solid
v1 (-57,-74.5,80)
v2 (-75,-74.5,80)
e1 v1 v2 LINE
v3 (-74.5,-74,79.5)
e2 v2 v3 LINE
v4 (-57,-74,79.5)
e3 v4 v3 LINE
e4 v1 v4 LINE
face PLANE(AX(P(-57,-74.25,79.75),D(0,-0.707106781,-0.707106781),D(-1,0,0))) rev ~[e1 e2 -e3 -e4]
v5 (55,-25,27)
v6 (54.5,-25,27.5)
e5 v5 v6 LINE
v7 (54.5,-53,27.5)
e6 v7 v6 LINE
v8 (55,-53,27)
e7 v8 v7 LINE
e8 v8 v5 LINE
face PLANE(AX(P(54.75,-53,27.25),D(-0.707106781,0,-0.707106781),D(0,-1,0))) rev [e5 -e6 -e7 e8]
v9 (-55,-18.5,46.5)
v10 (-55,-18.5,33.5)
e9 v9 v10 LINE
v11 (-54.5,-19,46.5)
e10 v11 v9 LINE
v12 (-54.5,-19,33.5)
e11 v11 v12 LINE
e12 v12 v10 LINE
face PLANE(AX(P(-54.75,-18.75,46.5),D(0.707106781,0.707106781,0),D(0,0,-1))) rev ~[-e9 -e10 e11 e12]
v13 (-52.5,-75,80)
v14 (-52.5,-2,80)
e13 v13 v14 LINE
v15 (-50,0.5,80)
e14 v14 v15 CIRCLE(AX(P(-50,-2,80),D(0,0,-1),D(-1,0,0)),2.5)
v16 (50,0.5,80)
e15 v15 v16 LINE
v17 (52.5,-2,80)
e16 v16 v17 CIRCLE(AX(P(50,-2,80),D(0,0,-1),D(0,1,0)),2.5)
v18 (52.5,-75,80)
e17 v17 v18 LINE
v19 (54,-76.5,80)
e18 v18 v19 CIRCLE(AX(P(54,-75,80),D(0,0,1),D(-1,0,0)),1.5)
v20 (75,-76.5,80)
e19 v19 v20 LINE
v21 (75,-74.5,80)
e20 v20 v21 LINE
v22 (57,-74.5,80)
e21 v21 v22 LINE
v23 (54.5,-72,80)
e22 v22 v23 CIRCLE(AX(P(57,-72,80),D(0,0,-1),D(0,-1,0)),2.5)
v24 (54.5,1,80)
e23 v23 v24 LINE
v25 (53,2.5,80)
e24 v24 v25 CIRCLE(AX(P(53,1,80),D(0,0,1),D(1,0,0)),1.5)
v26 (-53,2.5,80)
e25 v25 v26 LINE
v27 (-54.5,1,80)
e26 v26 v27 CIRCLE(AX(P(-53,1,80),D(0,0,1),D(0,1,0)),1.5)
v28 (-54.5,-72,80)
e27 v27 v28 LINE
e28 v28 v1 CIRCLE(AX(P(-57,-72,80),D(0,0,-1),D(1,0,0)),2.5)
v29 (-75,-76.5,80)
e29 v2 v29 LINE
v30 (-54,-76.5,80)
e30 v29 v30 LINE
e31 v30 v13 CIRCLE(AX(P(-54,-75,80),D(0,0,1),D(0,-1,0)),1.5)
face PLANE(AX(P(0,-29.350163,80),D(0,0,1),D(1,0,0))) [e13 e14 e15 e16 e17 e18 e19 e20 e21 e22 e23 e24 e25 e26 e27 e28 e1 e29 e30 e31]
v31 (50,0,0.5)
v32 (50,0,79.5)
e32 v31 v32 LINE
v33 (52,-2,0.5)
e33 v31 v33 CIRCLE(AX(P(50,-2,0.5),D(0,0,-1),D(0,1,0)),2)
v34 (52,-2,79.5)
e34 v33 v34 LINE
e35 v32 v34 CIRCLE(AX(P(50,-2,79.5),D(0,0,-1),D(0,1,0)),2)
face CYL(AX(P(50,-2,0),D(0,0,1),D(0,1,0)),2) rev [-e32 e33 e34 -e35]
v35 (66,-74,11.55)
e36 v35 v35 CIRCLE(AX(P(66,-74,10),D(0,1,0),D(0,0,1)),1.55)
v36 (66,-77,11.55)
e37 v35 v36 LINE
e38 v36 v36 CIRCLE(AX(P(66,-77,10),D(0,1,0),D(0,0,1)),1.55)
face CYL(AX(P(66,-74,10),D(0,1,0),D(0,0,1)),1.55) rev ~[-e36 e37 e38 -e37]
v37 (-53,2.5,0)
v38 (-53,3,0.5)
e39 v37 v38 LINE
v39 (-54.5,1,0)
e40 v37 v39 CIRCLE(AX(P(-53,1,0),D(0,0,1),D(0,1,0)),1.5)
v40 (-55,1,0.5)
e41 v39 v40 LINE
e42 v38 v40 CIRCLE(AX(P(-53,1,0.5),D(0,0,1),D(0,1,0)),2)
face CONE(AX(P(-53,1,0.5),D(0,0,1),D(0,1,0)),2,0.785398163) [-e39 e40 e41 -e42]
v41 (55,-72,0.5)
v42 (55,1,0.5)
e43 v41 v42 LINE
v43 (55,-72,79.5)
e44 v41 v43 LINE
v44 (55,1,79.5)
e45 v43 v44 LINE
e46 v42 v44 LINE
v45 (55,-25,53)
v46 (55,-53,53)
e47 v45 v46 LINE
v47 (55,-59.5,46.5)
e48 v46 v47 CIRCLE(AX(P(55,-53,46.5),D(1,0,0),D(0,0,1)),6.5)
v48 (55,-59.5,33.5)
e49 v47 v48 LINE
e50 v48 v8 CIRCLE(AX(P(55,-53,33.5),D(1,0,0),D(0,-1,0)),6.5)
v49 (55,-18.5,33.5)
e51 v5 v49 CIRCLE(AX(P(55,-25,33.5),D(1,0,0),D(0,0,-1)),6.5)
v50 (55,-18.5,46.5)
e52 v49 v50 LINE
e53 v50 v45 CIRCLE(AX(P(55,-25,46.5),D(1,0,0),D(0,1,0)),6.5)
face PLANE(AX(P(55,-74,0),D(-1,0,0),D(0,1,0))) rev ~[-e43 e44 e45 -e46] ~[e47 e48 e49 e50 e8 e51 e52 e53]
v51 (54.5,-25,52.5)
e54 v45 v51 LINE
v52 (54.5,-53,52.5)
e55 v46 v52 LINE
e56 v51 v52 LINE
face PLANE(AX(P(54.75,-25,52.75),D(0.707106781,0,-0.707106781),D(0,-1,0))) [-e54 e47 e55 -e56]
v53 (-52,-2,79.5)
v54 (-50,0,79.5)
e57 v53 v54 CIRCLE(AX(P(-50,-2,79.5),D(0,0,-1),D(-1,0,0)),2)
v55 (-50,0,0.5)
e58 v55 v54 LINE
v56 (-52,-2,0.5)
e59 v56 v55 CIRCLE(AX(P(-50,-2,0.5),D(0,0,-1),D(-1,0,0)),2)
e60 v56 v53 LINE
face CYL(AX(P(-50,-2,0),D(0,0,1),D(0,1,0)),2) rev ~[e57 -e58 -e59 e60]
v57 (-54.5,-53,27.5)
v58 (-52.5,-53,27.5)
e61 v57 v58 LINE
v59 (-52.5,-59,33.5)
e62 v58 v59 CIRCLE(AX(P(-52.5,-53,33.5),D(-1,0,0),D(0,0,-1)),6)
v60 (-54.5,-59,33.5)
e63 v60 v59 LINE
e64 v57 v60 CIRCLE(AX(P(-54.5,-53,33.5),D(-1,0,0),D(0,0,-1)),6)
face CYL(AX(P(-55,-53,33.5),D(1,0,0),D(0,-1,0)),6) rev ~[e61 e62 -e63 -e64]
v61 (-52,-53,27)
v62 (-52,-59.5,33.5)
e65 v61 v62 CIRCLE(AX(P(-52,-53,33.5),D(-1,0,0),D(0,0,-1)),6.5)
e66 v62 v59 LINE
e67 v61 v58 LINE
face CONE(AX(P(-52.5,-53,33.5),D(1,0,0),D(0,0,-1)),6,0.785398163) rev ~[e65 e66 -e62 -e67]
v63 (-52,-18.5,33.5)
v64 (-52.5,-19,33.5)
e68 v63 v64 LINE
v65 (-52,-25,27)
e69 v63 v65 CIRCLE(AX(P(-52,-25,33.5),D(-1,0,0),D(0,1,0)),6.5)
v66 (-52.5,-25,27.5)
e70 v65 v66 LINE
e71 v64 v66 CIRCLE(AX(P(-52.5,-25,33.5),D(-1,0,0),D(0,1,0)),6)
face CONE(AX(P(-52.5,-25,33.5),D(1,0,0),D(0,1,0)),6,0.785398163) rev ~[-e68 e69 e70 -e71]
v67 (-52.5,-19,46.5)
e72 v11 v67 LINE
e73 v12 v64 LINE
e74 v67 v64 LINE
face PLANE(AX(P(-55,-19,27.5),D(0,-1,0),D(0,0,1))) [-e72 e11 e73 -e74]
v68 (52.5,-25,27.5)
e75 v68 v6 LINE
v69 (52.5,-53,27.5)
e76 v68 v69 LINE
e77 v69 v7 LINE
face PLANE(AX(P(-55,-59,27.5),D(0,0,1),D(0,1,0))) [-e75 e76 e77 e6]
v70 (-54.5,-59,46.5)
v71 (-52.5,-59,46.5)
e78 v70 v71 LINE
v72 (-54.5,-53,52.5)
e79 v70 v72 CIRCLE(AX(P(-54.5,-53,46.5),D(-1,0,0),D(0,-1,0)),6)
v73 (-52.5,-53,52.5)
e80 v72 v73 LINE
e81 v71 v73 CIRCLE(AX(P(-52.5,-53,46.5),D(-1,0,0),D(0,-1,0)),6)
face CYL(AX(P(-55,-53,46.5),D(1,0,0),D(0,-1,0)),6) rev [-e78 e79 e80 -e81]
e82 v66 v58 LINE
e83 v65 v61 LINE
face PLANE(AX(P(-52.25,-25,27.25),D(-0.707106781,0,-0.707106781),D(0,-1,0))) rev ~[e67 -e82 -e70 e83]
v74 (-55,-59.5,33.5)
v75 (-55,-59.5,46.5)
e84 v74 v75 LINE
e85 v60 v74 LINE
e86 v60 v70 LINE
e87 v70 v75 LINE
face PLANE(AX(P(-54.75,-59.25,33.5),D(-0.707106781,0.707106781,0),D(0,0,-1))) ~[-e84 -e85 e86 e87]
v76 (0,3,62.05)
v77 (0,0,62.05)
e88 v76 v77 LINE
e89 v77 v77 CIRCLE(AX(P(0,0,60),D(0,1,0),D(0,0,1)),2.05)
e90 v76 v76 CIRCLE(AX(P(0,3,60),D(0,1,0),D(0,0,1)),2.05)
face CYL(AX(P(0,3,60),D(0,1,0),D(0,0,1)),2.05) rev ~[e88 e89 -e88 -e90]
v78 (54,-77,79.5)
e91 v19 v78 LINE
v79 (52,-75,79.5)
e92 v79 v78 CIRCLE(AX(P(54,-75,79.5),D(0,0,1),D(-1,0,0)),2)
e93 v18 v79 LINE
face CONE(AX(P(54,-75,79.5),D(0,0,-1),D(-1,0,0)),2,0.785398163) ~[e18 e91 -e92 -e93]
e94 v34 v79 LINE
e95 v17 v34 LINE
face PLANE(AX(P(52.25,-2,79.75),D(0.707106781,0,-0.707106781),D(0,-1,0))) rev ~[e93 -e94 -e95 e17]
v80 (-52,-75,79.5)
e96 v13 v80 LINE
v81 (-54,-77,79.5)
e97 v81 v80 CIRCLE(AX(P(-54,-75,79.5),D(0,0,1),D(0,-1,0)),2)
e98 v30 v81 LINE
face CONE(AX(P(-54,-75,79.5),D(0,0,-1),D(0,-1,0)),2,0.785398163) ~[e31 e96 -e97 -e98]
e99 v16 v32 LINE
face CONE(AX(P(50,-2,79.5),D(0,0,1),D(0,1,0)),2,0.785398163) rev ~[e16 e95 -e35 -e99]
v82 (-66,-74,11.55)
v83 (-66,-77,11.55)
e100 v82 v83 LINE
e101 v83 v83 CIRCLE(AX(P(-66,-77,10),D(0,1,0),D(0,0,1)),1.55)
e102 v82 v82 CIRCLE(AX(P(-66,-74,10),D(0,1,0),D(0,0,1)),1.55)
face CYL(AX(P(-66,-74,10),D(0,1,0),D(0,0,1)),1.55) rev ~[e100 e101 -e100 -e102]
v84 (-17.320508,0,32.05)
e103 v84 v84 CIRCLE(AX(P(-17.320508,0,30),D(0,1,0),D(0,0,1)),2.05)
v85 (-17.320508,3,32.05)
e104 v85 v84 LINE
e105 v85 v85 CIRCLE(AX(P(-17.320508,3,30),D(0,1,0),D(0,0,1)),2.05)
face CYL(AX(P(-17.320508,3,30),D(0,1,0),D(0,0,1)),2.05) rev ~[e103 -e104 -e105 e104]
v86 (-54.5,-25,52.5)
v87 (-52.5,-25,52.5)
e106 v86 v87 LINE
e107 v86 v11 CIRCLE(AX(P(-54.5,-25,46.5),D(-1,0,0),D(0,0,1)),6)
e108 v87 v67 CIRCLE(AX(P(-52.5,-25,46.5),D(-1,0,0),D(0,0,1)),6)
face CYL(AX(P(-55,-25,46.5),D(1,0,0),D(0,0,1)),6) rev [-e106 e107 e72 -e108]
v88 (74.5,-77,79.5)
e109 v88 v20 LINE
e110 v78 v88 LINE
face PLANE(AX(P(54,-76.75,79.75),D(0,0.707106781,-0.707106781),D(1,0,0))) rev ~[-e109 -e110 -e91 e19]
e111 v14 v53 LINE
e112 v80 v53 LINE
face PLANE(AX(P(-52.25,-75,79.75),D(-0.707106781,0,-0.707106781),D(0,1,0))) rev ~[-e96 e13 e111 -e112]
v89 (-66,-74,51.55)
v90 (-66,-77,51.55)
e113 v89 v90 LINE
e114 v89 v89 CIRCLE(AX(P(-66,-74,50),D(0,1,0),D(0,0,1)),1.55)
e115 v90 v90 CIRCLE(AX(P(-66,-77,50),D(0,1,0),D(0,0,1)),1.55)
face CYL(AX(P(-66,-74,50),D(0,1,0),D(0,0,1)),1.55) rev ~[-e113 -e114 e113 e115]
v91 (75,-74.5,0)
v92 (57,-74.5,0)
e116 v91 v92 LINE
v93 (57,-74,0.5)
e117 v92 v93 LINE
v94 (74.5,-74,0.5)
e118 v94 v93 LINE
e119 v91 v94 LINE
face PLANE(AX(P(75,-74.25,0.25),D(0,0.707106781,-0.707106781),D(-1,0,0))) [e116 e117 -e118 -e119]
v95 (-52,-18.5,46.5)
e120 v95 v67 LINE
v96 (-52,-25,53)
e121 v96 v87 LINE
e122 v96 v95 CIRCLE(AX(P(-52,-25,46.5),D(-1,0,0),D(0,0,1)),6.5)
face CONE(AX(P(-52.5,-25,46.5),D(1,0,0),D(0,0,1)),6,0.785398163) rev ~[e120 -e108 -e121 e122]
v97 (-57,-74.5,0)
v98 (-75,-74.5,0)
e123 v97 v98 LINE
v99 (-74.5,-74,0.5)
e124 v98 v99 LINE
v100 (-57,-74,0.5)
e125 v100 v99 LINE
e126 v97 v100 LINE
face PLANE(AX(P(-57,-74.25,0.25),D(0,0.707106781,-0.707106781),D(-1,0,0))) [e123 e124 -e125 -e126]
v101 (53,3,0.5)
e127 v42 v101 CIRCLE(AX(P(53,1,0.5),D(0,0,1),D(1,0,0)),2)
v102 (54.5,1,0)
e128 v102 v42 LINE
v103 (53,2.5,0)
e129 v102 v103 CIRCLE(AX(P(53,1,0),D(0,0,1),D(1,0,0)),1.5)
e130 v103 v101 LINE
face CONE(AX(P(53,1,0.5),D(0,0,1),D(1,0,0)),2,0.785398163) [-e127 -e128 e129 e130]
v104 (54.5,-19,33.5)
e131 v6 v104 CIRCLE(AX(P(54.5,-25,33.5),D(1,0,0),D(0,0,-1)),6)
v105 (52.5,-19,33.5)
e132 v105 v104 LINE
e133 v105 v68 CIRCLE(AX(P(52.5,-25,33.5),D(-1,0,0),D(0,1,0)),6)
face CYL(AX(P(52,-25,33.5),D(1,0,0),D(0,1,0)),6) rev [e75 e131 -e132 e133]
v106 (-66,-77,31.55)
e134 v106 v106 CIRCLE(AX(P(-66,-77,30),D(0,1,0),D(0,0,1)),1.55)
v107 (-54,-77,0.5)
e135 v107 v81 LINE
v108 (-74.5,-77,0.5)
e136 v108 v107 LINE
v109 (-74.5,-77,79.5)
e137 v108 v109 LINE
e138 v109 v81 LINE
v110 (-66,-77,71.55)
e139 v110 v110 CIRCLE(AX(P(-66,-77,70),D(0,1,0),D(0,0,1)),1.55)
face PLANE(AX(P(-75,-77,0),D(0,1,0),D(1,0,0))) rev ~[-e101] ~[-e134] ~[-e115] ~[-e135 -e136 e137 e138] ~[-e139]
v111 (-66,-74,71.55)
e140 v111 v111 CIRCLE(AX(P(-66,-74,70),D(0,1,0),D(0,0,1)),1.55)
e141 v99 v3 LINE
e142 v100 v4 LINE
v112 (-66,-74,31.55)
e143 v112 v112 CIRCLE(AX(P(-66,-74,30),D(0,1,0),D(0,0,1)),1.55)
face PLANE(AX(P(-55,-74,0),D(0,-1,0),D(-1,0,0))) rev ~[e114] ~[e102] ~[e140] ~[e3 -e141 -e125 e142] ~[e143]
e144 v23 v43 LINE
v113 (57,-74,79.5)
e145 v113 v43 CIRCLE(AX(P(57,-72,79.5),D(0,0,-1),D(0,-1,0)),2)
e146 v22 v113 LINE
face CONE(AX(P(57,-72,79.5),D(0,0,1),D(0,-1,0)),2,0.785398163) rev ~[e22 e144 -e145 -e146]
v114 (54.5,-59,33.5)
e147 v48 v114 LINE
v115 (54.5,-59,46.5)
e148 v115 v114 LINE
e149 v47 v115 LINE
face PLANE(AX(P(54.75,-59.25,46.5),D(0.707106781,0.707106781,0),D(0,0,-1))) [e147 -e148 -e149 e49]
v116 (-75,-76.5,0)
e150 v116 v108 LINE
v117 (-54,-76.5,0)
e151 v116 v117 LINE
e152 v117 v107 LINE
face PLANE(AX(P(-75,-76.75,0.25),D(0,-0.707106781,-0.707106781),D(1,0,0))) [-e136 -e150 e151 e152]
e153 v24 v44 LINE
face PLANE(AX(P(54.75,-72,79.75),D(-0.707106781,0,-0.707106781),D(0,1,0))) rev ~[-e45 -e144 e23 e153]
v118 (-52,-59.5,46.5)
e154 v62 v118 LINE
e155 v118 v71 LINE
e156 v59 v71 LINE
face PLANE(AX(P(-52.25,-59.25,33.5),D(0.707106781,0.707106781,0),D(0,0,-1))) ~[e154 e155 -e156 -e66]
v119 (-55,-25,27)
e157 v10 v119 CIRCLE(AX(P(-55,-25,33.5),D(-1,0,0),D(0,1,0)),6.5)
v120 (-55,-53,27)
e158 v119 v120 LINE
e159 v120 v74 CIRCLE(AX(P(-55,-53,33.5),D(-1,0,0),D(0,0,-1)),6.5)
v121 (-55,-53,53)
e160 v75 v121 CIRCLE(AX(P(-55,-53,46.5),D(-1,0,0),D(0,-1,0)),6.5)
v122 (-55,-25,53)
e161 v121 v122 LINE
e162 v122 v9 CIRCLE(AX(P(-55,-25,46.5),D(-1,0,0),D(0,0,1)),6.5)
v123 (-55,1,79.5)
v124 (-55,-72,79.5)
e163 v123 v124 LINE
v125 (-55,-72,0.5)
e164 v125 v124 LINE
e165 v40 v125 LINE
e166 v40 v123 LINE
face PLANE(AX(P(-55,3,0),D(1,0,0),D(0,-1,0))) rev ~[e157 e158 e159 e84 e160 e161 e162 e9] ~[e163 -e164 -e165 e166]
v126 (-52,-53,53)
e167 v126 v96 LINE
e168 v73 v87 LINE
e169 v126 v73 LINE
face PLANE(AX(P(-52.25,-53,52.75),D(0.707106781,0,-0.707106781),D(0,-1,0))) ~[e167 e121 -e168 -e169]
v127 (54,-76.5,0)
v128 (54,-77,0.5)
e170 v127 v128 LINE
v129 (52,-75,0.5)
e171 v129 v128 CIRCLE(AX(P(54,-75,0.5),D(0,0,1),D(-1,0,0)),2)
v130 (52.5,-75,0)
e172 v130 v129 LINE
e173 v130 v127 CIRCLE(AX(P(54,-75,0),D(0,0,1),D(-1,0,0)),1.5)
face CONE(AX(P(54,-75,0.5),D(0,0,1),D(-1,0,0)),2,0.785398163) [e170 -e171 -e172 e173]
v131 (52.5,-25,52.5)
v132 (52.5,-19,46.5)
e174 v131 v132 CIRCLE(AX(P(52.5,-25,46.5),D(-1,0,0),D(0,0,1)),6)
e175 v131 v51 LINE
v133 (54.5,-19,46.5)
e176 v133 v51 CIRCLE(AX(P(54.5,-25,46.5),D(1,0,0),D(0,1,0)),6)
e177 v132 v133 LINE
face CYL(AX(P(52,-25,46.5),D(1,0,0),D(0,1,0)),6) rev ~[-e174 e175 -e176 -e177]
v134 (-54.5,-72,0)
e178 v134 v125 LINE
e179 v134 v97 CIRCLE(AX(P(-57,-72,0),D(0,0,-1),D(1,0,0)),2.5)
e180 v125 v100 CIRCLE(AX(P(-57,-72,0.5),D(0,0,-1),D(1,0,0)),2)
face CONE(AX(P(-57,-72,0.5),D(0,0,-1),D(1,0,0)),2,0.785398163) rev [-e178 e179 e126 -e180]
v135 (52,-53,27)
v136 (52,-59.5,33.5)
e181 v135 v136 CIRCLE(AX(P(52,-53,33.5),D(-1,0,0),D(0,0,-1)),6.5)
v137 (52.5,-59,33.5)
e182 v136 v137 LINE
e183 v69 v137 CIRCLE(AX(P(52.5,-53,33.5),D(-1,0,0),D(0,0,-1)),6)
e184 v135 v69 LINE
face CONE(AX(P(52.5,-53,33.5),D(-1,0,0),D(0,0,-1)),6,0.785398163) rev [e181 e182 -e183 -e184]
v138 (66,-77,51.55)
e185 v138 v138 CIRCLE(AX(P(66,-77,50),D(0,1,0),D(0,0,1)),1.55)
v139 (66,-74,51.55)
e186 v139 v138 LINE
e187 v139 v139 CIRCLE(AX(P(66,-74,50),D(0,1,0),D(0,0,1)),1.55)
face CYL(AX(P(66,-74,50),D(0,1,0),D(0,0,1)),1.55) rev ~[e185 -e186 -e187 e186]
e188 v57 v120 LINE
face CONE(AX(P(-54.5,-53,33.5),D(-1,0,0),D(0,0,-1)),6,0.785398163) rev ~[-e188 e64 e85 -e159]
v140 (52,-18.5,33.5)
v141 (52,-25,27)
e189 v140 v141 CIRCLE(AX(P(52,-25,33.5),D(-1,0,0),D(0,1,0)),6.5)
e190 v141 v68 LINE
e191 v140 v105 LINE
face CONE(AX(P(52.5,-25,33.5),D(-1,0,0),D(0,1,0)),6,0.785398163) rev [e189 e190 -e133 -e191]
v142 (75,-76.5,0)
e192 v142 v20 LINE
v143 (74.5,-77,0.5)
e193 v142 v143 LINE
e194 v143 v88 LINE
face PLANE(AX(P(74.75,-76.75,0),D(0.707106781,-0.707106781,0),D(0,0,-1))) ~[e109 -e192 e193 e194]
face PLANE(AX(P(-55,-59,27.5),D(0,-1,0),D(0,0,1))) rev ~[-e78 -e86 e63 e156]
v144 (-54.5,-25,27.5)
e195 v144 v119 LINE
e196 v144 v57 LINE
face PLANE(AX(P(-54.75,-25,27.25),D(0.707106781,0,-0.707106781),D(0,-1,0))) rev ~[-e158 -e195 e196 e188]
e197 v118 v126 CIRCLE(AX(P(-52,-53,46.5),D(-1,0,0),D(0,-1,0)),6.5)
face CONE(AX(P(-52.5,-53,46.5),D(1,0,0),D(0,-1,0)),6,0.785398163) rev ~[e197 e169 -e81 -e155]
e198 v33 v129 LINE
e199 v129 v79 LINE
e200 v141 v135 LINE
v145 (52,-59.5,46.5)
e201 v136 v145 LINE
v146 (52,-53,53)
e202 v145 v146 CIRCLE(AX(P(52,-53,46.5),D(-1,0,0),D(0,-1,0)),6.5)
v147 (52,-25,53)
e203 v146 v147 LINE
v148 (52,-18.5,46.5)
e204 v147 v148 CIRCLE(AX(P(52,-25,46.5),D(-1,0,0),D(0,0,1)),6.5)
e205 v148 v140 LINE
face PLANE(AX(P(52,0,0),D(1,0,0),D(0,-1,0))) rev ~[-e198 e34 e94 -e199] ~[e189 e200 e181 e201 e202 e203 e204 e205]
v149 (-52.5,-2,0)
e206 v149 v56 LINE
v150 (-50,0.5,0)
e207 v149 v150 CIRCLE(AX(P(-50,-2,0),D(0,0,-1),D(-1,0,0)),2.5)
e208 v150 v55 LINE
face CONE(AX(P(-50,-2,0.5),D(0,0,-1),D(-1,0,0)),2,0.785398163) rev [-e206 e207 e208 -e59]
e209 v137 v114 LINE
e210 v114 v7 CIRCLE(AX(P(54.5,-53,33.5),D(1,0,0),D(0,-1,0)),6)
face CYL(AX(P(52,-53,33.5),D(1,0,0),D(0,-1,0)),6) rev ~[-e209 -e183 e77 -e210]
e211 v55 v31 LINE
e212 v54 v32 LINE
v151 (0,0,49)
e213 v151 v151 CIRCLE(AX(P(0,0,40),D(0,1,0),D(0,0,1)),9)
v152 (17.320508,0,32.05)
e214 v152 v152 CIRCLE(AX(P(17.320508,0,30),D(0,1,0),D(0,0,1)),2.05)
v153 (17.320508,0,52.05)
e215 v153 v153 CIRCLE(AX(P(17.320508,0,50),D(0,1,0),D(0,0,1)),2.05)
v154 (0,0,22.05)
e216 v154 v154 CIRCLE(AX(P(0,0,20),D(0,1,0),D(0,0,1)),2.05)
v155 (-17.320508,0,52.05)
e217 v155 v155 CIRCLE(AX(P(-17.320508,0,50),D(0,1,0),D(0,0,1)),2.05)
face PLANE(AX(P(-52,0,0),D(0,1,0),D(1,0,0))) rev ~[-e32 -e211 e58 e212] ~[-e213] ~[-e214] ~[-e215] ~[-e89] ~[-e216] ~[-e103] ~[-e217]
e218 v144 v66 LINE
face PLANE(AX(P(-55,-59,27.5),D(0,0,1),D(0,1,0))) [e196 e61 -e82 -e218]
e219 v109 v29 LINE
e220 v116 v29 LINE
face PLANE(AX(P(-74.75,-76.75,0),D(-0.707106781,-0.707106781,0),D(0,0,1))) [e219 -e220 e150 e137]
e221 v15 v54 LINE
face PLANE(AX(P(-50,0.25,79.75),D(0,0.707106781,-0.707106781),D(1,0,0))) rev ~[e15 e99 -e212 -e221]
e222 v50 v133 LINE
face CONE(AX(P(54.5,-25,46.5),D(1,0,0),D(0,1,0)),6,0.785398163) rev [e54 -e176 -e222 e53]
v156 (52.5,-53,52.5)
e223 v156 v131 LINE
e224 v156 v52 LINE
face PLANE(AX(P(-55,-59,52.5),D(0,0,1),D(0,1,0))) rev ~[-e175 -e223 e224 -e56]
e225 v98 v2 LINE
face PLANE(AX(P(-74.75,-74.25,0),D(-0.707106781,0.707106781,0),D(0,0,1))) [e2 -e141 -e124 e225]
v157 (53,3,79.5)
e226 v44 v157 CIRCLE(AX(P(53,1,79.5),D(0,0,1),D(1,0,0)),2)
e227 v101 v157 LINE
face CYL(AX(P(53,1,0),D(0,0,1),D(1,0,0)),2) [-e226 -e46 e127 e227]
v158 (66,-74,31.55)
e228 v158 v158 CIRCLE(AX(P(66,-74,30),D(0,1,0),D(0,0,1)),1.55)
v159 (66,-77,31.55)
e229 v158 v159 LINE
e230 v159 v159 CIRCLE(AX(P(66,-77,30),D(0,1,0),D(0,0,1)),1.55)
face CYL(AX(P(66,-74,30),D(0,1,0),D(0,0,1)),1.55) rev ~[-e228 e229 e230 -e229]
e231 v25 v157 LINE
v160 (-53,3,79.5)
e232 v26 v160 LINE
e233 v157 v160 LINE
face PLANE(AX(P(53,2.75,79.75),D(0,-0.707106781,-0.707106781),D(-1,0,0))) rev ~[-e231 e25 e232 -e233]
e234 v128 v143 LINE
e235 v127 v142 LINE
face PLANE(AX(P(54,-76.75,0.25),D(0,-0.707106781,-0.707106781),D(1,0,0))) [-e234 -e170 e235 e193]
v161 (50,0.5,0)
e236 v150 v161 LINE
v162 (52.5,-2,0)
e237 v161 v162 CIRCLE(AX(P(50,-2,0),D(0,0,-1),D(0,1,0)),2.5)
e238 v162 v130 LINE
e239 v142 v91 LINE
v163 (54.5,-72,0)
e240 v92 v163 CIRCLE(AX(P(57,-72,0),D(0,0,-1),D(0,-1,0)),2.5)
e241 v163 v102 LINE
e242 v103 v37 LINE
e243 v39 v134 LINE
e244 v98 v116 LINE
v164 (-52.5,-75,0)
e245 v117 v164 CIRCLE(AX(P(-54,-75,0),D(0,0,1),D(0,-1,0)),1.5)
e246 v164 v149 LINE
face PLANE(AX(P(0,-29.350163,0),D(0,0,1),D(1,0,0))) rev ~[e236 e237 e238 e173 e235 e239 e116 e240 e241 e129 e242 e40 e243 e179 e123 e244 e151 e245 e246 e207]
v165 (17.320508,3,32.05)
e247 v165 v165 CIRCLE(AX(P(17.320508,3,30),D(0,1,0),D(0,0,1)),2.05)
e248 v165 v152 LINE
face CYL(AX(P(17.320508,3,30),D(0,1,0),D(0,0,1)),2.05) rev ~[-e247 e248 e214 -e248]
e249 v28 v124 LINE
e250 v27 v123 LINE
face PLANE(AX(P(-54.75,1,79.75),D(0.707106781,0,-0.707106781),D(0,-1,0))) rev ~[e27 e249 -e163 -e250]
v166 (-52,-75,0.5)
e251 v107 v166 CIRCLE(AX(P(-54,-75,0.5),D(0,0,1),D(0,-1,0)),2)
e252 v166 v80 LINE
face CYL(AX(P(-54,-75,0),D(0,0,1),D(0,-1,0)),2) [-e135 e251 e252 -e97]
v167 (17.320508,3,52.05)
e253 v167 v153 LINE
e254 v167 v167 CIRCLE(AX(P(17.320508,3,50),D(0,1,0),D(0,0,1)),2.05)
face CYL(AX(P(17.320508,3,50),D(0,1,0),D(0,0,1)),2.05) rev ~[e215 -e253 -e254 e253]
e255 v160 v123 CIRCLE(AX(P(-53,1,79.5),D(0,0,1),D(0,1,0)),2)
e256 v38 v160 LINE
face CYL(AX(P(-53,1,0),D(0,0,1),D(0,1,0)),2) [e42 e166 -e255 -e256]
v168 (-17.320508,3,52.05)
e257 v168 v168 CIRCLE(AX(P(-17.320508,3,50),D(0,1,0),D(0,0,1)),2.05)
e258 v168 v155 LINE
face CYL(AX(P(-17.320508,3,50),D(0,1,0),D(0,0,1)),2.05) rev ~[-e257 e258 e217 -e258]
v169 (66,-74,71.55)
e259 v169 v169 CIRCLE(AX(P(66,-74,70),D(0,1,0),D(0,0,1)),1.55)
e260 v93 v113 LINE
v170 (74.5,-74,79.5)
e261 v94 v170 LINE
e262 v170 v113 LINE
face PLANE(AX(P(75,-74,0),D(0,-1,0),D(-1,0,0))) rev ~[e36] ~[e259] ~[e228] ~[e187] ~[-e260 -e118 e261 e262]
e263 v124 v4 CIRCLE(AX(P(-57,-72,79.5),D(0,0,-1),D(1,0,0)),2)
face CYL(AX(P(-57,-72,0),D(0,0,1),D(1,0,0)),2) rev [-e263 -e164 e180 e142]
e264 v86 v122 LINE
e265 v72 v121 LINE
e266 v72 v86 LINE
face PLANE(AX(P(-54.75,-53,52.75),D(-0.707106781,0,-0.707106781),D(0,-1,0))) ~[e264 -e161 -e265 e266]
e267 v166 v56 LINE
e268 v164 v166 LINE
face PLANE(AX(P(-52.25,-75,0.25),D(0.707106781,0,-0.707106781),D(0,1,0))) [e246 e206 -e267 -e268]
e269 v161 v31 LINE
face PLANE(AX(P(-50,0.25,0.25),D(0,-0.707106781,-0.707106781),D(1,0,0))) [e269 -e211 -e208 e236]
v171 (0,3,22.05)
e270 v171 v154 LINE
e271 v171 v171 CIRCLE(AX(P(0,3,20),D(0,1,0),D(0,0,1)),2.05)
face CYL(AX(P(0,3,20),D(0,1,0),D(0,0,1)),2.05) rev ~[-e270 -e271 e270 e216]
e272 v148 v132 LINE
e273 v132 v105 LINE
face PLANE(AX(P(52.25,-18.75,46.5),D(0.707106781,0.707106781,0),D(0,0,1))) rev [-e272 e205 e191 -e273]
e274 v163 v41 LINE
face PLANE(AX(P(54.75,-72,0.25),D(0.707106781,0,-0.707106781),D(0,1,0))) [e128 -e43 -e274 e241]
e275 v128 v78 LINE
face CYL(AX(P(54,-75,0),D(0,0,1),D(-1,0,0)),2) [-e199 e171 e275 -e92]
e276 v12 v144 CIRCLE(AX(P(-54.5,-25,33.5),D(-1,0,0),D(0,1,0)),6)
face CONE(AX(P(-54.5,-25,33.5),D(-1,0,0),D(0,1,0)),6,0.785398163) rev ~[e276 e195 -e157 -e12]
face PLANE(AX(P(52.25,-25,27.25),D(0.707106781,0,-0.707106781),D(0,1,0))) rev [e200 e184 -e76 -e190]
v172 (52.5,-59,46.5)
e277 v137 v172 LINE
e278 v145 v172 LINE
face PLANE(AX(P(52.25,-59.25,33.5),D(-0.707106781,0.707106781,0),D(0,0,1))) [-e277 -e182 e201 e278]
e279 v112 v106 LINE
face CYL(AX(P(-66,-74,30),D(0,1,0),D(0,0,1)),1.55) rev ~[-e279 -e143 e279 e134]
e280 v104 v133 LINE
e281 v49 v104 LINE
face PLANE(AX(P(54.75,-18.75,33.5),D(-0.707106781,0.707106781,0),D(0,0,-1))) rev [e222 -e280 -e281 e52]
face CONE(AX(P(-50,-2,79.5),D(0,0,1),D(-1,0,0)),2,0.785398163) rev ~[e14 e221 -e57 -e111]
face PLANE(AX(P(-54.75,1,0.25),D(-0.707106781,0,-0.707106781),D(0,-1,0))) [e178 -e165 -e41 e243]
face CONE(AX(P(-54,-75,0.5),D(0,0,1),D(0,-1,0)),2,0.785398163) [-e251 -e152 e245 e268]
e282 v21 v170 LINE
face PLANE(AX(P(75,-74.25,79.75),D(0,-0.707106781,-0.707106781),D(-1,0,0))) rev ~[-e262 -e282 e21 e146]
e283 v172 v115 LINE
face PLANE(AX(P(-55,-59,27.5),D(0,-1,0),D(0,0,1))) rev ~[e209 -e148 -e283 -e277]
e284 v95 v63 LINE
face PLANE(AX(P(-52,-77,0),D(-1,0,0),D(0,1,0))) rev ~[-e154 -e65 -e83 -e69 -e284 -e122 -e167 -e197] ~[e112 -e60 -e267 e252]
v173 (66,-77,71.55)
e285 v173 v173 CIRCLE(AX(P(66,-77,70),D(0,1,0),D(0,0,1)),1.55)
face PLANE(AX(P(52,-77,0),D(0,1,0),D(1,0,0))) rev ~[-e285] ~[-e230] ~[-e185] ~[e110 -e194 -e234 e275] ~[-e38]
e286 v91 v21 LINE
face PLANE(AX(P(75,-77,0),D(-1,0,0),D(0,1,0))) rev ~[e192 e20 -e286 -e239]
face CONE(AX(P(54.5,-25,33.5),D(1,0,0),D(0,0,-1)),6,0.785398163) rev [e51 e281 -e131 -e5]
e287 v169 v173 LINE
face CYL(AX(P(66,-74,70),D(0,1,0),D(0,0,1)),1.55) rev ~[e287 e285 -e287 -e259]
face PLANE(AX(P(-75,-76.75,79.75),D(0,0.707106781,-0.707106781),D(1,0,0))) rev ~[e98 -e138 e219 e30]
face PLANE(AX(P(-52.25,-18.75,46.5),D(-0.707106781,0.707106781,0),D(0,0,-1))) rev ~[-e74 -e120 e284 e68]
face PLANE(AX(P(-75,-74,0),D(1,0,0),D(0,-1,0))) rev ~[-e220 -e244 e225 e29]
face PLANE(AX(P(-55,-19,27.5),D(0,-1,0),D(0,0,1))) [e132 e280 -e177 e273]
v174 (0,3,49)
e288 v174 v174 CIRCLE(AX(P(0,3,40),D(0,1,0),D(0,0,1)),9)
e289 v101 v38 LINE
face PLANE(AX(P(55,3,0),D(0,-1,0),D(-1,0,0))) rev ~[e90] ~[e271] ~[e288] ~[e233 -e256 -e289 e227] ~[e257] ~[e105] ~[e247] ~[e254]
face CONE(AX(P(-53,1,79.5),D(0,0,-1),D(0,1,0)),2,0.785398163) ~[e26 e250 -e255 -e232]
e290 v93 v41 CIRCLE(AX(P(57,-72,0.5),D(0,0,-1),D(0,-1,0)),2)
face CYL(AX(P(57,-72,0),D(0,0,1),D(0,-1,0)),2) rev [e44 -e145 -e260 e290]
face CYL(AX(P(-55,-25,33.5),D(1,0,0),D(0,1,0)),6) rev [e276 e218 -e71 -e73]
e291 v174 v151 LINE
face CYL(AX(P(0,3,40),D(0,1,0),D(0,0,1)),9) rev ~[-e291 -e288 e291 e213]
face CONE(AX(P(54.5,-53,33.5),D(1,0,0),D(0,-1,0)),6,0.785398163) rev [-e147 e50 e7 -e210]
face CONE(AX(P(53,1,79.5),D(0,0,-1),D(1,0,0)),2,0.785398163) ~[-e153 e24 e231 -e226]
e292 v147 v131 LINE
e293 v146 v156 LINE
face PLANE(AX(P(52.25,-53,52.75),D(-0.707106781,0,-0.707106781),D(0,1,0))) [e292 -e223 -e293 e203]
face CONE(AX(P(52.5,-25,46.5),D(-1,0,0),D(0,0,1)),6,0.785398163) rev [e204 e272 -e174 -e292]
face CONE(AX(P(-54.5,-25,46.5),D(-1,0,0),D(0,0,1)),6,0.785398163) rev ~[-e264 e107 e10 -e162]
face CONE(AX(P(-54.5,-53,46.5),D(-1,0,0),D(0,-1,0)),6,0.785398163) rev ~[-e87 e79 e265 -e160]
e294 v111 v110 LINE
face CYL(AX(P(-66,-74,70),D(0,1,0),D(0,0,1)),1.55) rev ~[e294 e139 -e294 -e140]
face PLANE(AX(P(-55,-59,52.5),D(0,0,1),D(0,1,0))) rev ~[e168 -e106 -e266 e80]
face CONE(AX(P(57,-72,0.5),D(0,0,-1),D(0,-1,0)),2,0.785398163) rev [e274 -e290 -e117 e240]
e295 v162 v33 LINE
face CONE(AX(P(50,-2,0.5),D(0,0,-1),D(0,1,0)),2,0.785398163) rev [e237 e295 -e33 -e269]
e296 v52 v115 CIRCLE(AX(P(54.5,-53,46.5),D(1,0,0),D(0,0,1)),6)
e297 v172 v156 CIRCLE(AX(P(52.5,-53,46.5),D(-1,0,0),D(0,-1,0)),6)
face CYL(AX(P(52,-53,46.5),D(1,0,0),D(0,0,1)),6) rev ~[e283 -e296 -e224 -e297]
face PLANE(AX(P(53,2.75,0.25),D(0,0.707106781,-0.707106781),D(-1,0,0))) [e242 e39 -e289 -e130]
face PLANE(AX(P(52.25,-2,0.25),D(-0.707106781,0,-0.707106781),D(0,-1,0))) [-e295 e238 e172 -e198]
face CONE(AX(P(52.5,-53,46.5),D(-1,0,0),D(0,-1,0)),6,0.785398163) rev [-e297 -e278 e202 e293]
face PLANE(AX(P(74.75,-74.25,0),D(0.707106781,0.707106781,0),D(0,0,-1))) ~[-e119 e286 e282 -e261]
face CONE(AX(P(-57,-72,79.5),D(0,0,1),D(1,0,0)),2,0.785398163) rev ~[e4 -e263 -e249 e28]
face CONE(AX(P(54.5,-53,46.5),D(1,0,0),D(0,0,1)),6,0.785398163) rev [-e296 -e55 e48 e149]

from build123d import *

# Parameters (mm, degrees)
EXTRUDE_1_DEPTH     = 80
FILLET_1_R          = 2
YAW_REACH           = 137.739
SKETCH_2_R          = 2.05
SKETCH_2_R_2        = 9
CUT_EXTRUDE_2_REACH = 135.993
SKETCH_3_R          = 1.55
SKETCH_4_W          = 25
SKETCH_4_H          = 40
CUT_EXTRUDE_3_DEPTH = 171.96490868
FILLET_2_R          = 6
CHAMFER_1_SIZE      = 0.5


with BuildPart() as part:
    # 草图1 → 凸台-拉伸1 (new body)
    with BuildSketch(Plane.XY):
        Polygon((-52, 0), (52, 0), (52, -77), (75, -77), (75, -74), (55, -74), (55, 3), (-55, 3), (-55, -74), (-75, -74), (-75, -77), (-52, -77), align=None)
    extrude(amount=EXTRUDE_1_DEPTH)

    # 圆角1
    fillet_1_edges = [part.edges().sort_by_distance(p)[0] for p in [
        (52, 0, 40),
        (-52, 0, 40),
        (-52, -77, 40),
        (-55, -74, 40),
        (-55, 3, 40),
        (55, 3, 40),
        (55, -74, 40),
        (52, -77, 40),
    ]]
    fillet(fillet_1_edges, radius=FILLET_1_R)

    # 草图2 → yaw (cut, up to next)
    with BuildSketch(Plane(origin=(0, 3, 0), x_dir=(1, 0, 0), z_dir=(0, 1, 0)), mode=Mode.PRIVATE) as yaw_sk1:
        with Locations(Location((-17.320508076, -30, 0), (0, 0, 270))):
            Circle(SKETCH_2_R)
    yaw_tool1 = extrude(yaw_sk1.sketch, amount=-YAW_REACH, mode=Mode.PRIVATE) & part.part
    # 草图2 → yaw (cut, up to next)
    with BuildSketch(Plane(origin=(0, 3, 0), x_dir=(1, 0, 0), z_dir=(0, 1, 0)), mode=Mode.PRIVATE) as yaw_sk2:
        with Locations(Location((0, -20, 0), (0, 0, 270))):
            Circle(SKETCH_2_R)
    yaw_tool2 = extrude(yaw_sk2.sketch, amount=-YAW_REACH, mode=Mode.PRIVATE) & part.part
    # 草图2 → yaw (cut, up to next)
    with BuildSketch(Plane(origin=(0, 3, 0), x_dir=(1, 0, 0), z_dir=(0, 1, 0)), mode=Mode.PRIVATE) as yaw_sk3:
        with Locations(Location((17.320508076, -30, 0), (0, 0, 270))):
            Circle(SKETCH_2_R)
    yaw_tool3 = extrude(yaw_sk3.sketch, amount=-YAW_REACH, mode=Mode.PRIVATE) & part.part
    # 草图2 → yaw (cut, up to next)
    with BuildSketch(Plane(origin=(0, 3, 0), x_dir=(1, 0, 0), z_dir=(0, 1, 0)), mode=Mode.PRIVATE) as yaw_sk4:
        with Locations(Location((17.320508076, -50, 0), (0, 0, 270))):
            Circle(SKETCH_2_R)
    yaw_tool4 = extrude(yaw_sk4.sketch, amount=-YAW_REACH, mode=Mode.PRIVATE) & part.part
    # 草图2 → yaw (cut, up to next)
    with BuildSketch(Plane(origin=(0, 3, 0), x_dir=(1, 0, 0), z_dir=(0, 1, 0)), mode=Mode.PRIVATE) as yaw_sk5:
        with Locations(Location((0, -40, 0), (0, 0, 270))):
            Circle(SKETCH_2_R_2)
    yaw_tool5 = extrude(yaw_sk5.sketch, amount=-YAW_REACH, mode=Mode.PRIVATE) & part.part
    # 草图2 → yaw (cut, up to next)
    with BuildSketch(Plane(origin=(0, 3, 0), x_dir=(1, 0, 0), z_dir=(0, 1, 0)), mode=Mode.PRIVATE) as yaw_sk6:
        with Locations(Location((0, -60, 0), (0, 0, 270))):
            Circle(SKETCH_2_R)
    yaw_tool6 = extrude(yaw_sk6.sketch, amount=-YAW_REACH, mode=Mode.PRIVATE) & part.part
    # 草图2 → yaw (cut, up to next)
    with BuildSketch(Plane(origin=(0, 3, 0), x_dir=(1, 0, 0), z_dir=(0, 1, 0)), mode=Mode.PRIVATE) as yaw_sk7:
        with Locations(Location((-17.320508076, -50, 0), (0, 0, 270))):
            Circle(SKETCH_2_R)
    yaw_tool7 = extrude(yaw_sk7.sketch, amount=-YAW_REACH, mode=Mode.PRIVATE) & part.part
    add(yaw_tool1.solids().sort_by_distance((-17.320508, 3, 30))[0], mode=Mode.SUBTRACT)
    add(yaw_tool2.solids().sort_by_distance((0, 3, 20))[0], mode=Mode.SUBTRACT)
    add(yaw_tool3.solids().sort_by_distance((17.320508, 3, 30))[0], mode=Mode.SUBTRACT)
    add(yaw_tool4.solids().sort_by_distance((17.320508, 3, 50))[0], mode=Mode.SUBTRACT)
    add(yaw_tool5.solids().sort_by_distance((0, 3, 40))[0], mode=Mode.SUBTRACT)
    add(yaw_tool6.solids().sort_by_distance((0, 3, 60))[0], mode=Mode.SUBTRACT)
    add(yaw_tool7.solids().sort_by_distance((-17.320508, 3, 50))[0], mode=Mode.SUBTRACT)

    # 草图3 → 切除-拉伸2 (cut, up to next)
    with BuildSketch(Plane(origin=(0, -74, 0), x_dir=(1, 0, 0), z_dir=(0, 1, 0)), mode=Mode.PRIVATE) as cut_extrude_2_sk1:
        with Locations(Location((-66, -10, 0), (0, 0, 270))):
            Circle(SKETCH_3_R)
    cut_extrude_2_tool1 = extrude(cut_extrude_2_sk1.sketch, amount=-CUT_EXTRUDE_2_REACH, mode=Mode.PRIVATE) & part.part
    # 草图3 → 切除-拉伸2 (cut, up to next)
    with BuildSketch(Plane(origin=(0, -74, 0), x_dir=(1, 0, 0), z_dir=(0, 1, 0)), mode=Mode.PRIVATE) as cut_extrude_2_sk2:
        with Locations(Location((-66, -30, 0), (0, 0, 270))):
            Circle(SKETCH_3_R)
    cut_extrude_2_tool2 = extrude(cut_extrude_2_sk2.sketch, amount=-CUT_EXTRUDE_2_REACH, mode=Mode.PRIVATE) & part.part
    # 草图3 → 切除-拉伸2 (cut, up to next)
    with BuildSketch(Plane(origin=(0, -74, 0), x_dir=(1, 0, 0), z_dir=(0, 1, 0)), mode=Mode.PRIVATE) as cut_extrude_2_sk3:
        with Locations(Location((-66, -50, 0), (0, 0, 270))):
            Circle(SKETCH_3_R)
    cut_extrude_2_tool3 = extrude(cut_extrude_2_sk3.sketch, amount=-CUT_EXTRUDE_2_REACH, mode=Mode.PRIVATE) & part.part
    # 草图3 → 切除-拉伸2 (cut, up to next)
    with BuildSketch(Plane(origin=(0, -74, 0), x_dir=(1, 0, 0), z_dir=(0, 1, 0)), mode=Mode.PRIVATE) as cut_extrude_2_sk4:
        with Locations(Location((-66, -70, 0), (0, 0, 270))):
            Circle(SKETCH_3_R)
    cut_extrude_2_tool4 = extrude(cut_extrude_2_sk4.sketch, amount=-CUT_EXTRUDE_2_REACH, mode=Mode.PRIVATE) & part.part
    # 草图3 → 切除-拉伸2 (cut, up to next)
    with BuildSketch(Plane(origin=(0, -74, 0), x_dir=(1, 0, 0), z_dir=(0, 1, 0)), mode=Mode.PRIVATE) as cut_extrude_2_sk5:
        with Locations(Location((66, -70, 0), (0, 0, 270))):
            Circle(SKETCH_3_R)
    cut_extrude_2_tool5 = extrude(cut_extrude_2_sk5.sketch, amount=-CUT_EXTRUDE_2_REACH, mode=Mode.PRIVATE) & part.part
    # 草图3 → 切除-拉伸2 (cut, up to next)
    with BuildSketch(Plane(origin=(0, -74, 0), x_dir=(1, 0, 0), z_dir=(0, 1, 0)), mode=Mode.PRIVATE) as cut_extrude_2_sk6:
        with Locations(Location((66, -50, 0), (0, 0, 270))):
            Circle(SKETCH_3_R)
    cut_extrude_2_tool6 = extrude(cut_extrude_2_sk6.sketch, amount=-CUT_EXTRUDE_2_REACH, mode=Mode.PRIVATE) & part.part
    # 草图3 → 切除-拉伸2 (cut, up to next)
    with BuildSketch(Plane(origin=(0, -74, 0), x_dir=(1, 0, 0), z_dir=(0, 1, 0)), mode=Mode.PRIVATE) as cut_extrude_2_sk7:
        with Locations(Location((66, -30, 0), (0, 0, 270))):
            Circle(SKETCH_3_R)
    cut_extrude_2_tool7 = extrude(cut_extrude_2_sk7.sketch, amount=-CUT_EXTRUDE_2_REACH, mode=Mode.PRIVATE) & part.part
    # 草图3 → 切除-拉伸2 (cut, up to next)
    with BuildSketch(Plane(origin=(0, -74, 0), x_dir=(1, 0, 0), z_dir=(0, 1, 0)), mode=Mode.PRIVATE) as cut_extrude_2_sk8:
        with Locations(Location((66, -10, 0), (0, 0, 270))):
            Circle(SKETCH_3_R)
    cut_extrude_2_tool8 = extrude(cut_extrude_2_sk8.sketch, amount=-CUT_EXTRUDE_2_REACH, mode=Mode.PRIVATE) & part.part
    add(cut_extrude_2_tool1.solids().sort_by_distance((-66, -74, 10))[0], mode=Mode.SUBTRACT)
    add(cut_extrude_2_tool2.solids().sort_by_distance((-66, -74, 30))[0], mode=Mode.SUBTRACT)
    add(cut_extrude_2_tool3.solids().sort_by_distance((-66, -74, 50))[0], mode=Mode.SUBTRACT)
    add(cut_extrude_2_tool4.solids().sort_by_distance((-66, -74, 70))[0], mode=Mode.SUBTRACT)
    add(cut_extrude_2_tool5.solids().sort_by_distance((66, -74, 70))[0], mode=Mode.SUBTRACT)
    add(cut_extrude_2_tool6.solids().sort_by_distance((66, -74, 50))[0], mode=Mode.SUBTRACT)
    add(cut_extrude_2_tool7.solids().sort_by_distance((66, -74, 30))[0], mode=Mode.SUBTRACT)
    add(cut_extrude_2_tool8.solids().sort_by_distance((66, -74, 10))[0], mode=Mode.SUBTRACT)

    # 草图4 → 切除-拉伸3 (cut, through all)
    with BuildSketch(Plane.ZY.offset(55)):
        with Locations((40, -39)):
            Rectangle(SKETCH_4_W, SKETCH_4_H)
    extrude(amount=-CUT_EXTRUDE_3_DEPTH, mode=Mode.SUBTRACT)

    # 圆角2
    fillet_2_edges = [part.edges().sort_by_distance(p)[0] for p in [
        (53.5, -19, 52.5),
        (-53.5, -19, 52.5),
        (53.5, -59, 52.5),
        (-53.5, -59, 52.5),
        (53.5, -59, 27.5),
        (-53.5, -59, 27.5),
        (53.5, -19, 27.5),
        (-53.5, -19, 27.5),
    ]]
    fillet(fillet_2_edges, radius=FILLET_2_R)

    # 倒角1
    chamfer_1_edges = [part.edges().sort_by_distance(p)[0] for p in [
        (-64.5, -77, 0),
        (66, -74, 80),
        (66, -74, 0),
        (55, -39, 27.5),
        (52, -39, 27.5),
        (55, -19, 40),
        (52, -19, 40),
        (55, -39, 52.5),
        (52, -39, 52.5),
        (55, -59, 40),
        (52, -59, 40),
        (-55, -59, 40),
        (-52, -59, 40),
        (-55, -39, 27.5),
        (-52, -39, 27.5),
        (-55, -39, 52.5),
        (-52, -39, 52.5),
        (-55, -19, 40),
        (-52, -19, 40),
        (52, -20.757359313, 29.257359313),
        (55, -20.757359313, 29.257359313),
        (52, -20.757359313, 50.742640687),
        (55, -20.757359313, 50.742640687),
        (52, -57.242640687, 50.742640687),
        (55, -57.242640687, 50.742640687),
        (52, -57.242640687, 29.257359313),
        (55, -57.242640687, 29.257359313),
        (-55, -57.242640687, 29.257359313),
        (-52, -57.242640687, 29.257359313),
        (-55, -57.242640687, 50.742640687),
        (-75, -77, 40),
        (-52, -57.242640687, 50.742640687),
        (-55, -20.757359313, 50.742640687),
        (-52, -20.757359313, 50.742640687),
        (-75, -74, 40),
        (-55, -20.757359313, 29.257359313),
        (-52, -20.757359313, 29.257359313),
        (75, -74, 40),
        (75, -77, 40),
        (-64.5, -77, 80),
        (0, 3, 0),
        (0, 3, 80),
        (52, -38.5, 0),
        (0, 0, 0),
        (-52, -38.5, 0),
        (-66, -74, 0),
        (-55, -35.5, 0),
        (55, -35.5, 0),
        (64.5, -77, 0),
        (-52.585786438, -76.414213562, 0),
        (52.585786438, -76.414213562, 0),
        (-54.414213562, 2.414213562, 0),
        (54.414213562, 2.414213562, 0),
        (55, -35.5, 80),
        (52, -38.5, 80),
        (64.5, -77, 80),
        (-55, -35.5, 80),
        (-66, -74, 80),
        (-52, -38.5, 80),
        (0, 0, 80),
        (-52.585786438, -76.414213562, 80),
        (52.585786438, -76.414213562, 80),
        (-54.414213562, 2.414213562, 80),
        (54.414213562, 2.414213562, 80),
        (-51.414213562, -0.585786438, 0),
        (-51.414213562, -0.585786438, 80),
        (51.414213562, -0.585786438, 0),
        (51.414213562, -0.585786438, 80),
        (55.585786438, -73.414213562, 0),
        (55.585786438, -73.414213562, 80),
        (-55.585786438, -73.414213562, 0),
        (-55.585786438, -73.414213562, 80),
    ]]
    chamfer(chamfer_1_edges, length=CHAMFER_1_SIZE)


solid = part.part
